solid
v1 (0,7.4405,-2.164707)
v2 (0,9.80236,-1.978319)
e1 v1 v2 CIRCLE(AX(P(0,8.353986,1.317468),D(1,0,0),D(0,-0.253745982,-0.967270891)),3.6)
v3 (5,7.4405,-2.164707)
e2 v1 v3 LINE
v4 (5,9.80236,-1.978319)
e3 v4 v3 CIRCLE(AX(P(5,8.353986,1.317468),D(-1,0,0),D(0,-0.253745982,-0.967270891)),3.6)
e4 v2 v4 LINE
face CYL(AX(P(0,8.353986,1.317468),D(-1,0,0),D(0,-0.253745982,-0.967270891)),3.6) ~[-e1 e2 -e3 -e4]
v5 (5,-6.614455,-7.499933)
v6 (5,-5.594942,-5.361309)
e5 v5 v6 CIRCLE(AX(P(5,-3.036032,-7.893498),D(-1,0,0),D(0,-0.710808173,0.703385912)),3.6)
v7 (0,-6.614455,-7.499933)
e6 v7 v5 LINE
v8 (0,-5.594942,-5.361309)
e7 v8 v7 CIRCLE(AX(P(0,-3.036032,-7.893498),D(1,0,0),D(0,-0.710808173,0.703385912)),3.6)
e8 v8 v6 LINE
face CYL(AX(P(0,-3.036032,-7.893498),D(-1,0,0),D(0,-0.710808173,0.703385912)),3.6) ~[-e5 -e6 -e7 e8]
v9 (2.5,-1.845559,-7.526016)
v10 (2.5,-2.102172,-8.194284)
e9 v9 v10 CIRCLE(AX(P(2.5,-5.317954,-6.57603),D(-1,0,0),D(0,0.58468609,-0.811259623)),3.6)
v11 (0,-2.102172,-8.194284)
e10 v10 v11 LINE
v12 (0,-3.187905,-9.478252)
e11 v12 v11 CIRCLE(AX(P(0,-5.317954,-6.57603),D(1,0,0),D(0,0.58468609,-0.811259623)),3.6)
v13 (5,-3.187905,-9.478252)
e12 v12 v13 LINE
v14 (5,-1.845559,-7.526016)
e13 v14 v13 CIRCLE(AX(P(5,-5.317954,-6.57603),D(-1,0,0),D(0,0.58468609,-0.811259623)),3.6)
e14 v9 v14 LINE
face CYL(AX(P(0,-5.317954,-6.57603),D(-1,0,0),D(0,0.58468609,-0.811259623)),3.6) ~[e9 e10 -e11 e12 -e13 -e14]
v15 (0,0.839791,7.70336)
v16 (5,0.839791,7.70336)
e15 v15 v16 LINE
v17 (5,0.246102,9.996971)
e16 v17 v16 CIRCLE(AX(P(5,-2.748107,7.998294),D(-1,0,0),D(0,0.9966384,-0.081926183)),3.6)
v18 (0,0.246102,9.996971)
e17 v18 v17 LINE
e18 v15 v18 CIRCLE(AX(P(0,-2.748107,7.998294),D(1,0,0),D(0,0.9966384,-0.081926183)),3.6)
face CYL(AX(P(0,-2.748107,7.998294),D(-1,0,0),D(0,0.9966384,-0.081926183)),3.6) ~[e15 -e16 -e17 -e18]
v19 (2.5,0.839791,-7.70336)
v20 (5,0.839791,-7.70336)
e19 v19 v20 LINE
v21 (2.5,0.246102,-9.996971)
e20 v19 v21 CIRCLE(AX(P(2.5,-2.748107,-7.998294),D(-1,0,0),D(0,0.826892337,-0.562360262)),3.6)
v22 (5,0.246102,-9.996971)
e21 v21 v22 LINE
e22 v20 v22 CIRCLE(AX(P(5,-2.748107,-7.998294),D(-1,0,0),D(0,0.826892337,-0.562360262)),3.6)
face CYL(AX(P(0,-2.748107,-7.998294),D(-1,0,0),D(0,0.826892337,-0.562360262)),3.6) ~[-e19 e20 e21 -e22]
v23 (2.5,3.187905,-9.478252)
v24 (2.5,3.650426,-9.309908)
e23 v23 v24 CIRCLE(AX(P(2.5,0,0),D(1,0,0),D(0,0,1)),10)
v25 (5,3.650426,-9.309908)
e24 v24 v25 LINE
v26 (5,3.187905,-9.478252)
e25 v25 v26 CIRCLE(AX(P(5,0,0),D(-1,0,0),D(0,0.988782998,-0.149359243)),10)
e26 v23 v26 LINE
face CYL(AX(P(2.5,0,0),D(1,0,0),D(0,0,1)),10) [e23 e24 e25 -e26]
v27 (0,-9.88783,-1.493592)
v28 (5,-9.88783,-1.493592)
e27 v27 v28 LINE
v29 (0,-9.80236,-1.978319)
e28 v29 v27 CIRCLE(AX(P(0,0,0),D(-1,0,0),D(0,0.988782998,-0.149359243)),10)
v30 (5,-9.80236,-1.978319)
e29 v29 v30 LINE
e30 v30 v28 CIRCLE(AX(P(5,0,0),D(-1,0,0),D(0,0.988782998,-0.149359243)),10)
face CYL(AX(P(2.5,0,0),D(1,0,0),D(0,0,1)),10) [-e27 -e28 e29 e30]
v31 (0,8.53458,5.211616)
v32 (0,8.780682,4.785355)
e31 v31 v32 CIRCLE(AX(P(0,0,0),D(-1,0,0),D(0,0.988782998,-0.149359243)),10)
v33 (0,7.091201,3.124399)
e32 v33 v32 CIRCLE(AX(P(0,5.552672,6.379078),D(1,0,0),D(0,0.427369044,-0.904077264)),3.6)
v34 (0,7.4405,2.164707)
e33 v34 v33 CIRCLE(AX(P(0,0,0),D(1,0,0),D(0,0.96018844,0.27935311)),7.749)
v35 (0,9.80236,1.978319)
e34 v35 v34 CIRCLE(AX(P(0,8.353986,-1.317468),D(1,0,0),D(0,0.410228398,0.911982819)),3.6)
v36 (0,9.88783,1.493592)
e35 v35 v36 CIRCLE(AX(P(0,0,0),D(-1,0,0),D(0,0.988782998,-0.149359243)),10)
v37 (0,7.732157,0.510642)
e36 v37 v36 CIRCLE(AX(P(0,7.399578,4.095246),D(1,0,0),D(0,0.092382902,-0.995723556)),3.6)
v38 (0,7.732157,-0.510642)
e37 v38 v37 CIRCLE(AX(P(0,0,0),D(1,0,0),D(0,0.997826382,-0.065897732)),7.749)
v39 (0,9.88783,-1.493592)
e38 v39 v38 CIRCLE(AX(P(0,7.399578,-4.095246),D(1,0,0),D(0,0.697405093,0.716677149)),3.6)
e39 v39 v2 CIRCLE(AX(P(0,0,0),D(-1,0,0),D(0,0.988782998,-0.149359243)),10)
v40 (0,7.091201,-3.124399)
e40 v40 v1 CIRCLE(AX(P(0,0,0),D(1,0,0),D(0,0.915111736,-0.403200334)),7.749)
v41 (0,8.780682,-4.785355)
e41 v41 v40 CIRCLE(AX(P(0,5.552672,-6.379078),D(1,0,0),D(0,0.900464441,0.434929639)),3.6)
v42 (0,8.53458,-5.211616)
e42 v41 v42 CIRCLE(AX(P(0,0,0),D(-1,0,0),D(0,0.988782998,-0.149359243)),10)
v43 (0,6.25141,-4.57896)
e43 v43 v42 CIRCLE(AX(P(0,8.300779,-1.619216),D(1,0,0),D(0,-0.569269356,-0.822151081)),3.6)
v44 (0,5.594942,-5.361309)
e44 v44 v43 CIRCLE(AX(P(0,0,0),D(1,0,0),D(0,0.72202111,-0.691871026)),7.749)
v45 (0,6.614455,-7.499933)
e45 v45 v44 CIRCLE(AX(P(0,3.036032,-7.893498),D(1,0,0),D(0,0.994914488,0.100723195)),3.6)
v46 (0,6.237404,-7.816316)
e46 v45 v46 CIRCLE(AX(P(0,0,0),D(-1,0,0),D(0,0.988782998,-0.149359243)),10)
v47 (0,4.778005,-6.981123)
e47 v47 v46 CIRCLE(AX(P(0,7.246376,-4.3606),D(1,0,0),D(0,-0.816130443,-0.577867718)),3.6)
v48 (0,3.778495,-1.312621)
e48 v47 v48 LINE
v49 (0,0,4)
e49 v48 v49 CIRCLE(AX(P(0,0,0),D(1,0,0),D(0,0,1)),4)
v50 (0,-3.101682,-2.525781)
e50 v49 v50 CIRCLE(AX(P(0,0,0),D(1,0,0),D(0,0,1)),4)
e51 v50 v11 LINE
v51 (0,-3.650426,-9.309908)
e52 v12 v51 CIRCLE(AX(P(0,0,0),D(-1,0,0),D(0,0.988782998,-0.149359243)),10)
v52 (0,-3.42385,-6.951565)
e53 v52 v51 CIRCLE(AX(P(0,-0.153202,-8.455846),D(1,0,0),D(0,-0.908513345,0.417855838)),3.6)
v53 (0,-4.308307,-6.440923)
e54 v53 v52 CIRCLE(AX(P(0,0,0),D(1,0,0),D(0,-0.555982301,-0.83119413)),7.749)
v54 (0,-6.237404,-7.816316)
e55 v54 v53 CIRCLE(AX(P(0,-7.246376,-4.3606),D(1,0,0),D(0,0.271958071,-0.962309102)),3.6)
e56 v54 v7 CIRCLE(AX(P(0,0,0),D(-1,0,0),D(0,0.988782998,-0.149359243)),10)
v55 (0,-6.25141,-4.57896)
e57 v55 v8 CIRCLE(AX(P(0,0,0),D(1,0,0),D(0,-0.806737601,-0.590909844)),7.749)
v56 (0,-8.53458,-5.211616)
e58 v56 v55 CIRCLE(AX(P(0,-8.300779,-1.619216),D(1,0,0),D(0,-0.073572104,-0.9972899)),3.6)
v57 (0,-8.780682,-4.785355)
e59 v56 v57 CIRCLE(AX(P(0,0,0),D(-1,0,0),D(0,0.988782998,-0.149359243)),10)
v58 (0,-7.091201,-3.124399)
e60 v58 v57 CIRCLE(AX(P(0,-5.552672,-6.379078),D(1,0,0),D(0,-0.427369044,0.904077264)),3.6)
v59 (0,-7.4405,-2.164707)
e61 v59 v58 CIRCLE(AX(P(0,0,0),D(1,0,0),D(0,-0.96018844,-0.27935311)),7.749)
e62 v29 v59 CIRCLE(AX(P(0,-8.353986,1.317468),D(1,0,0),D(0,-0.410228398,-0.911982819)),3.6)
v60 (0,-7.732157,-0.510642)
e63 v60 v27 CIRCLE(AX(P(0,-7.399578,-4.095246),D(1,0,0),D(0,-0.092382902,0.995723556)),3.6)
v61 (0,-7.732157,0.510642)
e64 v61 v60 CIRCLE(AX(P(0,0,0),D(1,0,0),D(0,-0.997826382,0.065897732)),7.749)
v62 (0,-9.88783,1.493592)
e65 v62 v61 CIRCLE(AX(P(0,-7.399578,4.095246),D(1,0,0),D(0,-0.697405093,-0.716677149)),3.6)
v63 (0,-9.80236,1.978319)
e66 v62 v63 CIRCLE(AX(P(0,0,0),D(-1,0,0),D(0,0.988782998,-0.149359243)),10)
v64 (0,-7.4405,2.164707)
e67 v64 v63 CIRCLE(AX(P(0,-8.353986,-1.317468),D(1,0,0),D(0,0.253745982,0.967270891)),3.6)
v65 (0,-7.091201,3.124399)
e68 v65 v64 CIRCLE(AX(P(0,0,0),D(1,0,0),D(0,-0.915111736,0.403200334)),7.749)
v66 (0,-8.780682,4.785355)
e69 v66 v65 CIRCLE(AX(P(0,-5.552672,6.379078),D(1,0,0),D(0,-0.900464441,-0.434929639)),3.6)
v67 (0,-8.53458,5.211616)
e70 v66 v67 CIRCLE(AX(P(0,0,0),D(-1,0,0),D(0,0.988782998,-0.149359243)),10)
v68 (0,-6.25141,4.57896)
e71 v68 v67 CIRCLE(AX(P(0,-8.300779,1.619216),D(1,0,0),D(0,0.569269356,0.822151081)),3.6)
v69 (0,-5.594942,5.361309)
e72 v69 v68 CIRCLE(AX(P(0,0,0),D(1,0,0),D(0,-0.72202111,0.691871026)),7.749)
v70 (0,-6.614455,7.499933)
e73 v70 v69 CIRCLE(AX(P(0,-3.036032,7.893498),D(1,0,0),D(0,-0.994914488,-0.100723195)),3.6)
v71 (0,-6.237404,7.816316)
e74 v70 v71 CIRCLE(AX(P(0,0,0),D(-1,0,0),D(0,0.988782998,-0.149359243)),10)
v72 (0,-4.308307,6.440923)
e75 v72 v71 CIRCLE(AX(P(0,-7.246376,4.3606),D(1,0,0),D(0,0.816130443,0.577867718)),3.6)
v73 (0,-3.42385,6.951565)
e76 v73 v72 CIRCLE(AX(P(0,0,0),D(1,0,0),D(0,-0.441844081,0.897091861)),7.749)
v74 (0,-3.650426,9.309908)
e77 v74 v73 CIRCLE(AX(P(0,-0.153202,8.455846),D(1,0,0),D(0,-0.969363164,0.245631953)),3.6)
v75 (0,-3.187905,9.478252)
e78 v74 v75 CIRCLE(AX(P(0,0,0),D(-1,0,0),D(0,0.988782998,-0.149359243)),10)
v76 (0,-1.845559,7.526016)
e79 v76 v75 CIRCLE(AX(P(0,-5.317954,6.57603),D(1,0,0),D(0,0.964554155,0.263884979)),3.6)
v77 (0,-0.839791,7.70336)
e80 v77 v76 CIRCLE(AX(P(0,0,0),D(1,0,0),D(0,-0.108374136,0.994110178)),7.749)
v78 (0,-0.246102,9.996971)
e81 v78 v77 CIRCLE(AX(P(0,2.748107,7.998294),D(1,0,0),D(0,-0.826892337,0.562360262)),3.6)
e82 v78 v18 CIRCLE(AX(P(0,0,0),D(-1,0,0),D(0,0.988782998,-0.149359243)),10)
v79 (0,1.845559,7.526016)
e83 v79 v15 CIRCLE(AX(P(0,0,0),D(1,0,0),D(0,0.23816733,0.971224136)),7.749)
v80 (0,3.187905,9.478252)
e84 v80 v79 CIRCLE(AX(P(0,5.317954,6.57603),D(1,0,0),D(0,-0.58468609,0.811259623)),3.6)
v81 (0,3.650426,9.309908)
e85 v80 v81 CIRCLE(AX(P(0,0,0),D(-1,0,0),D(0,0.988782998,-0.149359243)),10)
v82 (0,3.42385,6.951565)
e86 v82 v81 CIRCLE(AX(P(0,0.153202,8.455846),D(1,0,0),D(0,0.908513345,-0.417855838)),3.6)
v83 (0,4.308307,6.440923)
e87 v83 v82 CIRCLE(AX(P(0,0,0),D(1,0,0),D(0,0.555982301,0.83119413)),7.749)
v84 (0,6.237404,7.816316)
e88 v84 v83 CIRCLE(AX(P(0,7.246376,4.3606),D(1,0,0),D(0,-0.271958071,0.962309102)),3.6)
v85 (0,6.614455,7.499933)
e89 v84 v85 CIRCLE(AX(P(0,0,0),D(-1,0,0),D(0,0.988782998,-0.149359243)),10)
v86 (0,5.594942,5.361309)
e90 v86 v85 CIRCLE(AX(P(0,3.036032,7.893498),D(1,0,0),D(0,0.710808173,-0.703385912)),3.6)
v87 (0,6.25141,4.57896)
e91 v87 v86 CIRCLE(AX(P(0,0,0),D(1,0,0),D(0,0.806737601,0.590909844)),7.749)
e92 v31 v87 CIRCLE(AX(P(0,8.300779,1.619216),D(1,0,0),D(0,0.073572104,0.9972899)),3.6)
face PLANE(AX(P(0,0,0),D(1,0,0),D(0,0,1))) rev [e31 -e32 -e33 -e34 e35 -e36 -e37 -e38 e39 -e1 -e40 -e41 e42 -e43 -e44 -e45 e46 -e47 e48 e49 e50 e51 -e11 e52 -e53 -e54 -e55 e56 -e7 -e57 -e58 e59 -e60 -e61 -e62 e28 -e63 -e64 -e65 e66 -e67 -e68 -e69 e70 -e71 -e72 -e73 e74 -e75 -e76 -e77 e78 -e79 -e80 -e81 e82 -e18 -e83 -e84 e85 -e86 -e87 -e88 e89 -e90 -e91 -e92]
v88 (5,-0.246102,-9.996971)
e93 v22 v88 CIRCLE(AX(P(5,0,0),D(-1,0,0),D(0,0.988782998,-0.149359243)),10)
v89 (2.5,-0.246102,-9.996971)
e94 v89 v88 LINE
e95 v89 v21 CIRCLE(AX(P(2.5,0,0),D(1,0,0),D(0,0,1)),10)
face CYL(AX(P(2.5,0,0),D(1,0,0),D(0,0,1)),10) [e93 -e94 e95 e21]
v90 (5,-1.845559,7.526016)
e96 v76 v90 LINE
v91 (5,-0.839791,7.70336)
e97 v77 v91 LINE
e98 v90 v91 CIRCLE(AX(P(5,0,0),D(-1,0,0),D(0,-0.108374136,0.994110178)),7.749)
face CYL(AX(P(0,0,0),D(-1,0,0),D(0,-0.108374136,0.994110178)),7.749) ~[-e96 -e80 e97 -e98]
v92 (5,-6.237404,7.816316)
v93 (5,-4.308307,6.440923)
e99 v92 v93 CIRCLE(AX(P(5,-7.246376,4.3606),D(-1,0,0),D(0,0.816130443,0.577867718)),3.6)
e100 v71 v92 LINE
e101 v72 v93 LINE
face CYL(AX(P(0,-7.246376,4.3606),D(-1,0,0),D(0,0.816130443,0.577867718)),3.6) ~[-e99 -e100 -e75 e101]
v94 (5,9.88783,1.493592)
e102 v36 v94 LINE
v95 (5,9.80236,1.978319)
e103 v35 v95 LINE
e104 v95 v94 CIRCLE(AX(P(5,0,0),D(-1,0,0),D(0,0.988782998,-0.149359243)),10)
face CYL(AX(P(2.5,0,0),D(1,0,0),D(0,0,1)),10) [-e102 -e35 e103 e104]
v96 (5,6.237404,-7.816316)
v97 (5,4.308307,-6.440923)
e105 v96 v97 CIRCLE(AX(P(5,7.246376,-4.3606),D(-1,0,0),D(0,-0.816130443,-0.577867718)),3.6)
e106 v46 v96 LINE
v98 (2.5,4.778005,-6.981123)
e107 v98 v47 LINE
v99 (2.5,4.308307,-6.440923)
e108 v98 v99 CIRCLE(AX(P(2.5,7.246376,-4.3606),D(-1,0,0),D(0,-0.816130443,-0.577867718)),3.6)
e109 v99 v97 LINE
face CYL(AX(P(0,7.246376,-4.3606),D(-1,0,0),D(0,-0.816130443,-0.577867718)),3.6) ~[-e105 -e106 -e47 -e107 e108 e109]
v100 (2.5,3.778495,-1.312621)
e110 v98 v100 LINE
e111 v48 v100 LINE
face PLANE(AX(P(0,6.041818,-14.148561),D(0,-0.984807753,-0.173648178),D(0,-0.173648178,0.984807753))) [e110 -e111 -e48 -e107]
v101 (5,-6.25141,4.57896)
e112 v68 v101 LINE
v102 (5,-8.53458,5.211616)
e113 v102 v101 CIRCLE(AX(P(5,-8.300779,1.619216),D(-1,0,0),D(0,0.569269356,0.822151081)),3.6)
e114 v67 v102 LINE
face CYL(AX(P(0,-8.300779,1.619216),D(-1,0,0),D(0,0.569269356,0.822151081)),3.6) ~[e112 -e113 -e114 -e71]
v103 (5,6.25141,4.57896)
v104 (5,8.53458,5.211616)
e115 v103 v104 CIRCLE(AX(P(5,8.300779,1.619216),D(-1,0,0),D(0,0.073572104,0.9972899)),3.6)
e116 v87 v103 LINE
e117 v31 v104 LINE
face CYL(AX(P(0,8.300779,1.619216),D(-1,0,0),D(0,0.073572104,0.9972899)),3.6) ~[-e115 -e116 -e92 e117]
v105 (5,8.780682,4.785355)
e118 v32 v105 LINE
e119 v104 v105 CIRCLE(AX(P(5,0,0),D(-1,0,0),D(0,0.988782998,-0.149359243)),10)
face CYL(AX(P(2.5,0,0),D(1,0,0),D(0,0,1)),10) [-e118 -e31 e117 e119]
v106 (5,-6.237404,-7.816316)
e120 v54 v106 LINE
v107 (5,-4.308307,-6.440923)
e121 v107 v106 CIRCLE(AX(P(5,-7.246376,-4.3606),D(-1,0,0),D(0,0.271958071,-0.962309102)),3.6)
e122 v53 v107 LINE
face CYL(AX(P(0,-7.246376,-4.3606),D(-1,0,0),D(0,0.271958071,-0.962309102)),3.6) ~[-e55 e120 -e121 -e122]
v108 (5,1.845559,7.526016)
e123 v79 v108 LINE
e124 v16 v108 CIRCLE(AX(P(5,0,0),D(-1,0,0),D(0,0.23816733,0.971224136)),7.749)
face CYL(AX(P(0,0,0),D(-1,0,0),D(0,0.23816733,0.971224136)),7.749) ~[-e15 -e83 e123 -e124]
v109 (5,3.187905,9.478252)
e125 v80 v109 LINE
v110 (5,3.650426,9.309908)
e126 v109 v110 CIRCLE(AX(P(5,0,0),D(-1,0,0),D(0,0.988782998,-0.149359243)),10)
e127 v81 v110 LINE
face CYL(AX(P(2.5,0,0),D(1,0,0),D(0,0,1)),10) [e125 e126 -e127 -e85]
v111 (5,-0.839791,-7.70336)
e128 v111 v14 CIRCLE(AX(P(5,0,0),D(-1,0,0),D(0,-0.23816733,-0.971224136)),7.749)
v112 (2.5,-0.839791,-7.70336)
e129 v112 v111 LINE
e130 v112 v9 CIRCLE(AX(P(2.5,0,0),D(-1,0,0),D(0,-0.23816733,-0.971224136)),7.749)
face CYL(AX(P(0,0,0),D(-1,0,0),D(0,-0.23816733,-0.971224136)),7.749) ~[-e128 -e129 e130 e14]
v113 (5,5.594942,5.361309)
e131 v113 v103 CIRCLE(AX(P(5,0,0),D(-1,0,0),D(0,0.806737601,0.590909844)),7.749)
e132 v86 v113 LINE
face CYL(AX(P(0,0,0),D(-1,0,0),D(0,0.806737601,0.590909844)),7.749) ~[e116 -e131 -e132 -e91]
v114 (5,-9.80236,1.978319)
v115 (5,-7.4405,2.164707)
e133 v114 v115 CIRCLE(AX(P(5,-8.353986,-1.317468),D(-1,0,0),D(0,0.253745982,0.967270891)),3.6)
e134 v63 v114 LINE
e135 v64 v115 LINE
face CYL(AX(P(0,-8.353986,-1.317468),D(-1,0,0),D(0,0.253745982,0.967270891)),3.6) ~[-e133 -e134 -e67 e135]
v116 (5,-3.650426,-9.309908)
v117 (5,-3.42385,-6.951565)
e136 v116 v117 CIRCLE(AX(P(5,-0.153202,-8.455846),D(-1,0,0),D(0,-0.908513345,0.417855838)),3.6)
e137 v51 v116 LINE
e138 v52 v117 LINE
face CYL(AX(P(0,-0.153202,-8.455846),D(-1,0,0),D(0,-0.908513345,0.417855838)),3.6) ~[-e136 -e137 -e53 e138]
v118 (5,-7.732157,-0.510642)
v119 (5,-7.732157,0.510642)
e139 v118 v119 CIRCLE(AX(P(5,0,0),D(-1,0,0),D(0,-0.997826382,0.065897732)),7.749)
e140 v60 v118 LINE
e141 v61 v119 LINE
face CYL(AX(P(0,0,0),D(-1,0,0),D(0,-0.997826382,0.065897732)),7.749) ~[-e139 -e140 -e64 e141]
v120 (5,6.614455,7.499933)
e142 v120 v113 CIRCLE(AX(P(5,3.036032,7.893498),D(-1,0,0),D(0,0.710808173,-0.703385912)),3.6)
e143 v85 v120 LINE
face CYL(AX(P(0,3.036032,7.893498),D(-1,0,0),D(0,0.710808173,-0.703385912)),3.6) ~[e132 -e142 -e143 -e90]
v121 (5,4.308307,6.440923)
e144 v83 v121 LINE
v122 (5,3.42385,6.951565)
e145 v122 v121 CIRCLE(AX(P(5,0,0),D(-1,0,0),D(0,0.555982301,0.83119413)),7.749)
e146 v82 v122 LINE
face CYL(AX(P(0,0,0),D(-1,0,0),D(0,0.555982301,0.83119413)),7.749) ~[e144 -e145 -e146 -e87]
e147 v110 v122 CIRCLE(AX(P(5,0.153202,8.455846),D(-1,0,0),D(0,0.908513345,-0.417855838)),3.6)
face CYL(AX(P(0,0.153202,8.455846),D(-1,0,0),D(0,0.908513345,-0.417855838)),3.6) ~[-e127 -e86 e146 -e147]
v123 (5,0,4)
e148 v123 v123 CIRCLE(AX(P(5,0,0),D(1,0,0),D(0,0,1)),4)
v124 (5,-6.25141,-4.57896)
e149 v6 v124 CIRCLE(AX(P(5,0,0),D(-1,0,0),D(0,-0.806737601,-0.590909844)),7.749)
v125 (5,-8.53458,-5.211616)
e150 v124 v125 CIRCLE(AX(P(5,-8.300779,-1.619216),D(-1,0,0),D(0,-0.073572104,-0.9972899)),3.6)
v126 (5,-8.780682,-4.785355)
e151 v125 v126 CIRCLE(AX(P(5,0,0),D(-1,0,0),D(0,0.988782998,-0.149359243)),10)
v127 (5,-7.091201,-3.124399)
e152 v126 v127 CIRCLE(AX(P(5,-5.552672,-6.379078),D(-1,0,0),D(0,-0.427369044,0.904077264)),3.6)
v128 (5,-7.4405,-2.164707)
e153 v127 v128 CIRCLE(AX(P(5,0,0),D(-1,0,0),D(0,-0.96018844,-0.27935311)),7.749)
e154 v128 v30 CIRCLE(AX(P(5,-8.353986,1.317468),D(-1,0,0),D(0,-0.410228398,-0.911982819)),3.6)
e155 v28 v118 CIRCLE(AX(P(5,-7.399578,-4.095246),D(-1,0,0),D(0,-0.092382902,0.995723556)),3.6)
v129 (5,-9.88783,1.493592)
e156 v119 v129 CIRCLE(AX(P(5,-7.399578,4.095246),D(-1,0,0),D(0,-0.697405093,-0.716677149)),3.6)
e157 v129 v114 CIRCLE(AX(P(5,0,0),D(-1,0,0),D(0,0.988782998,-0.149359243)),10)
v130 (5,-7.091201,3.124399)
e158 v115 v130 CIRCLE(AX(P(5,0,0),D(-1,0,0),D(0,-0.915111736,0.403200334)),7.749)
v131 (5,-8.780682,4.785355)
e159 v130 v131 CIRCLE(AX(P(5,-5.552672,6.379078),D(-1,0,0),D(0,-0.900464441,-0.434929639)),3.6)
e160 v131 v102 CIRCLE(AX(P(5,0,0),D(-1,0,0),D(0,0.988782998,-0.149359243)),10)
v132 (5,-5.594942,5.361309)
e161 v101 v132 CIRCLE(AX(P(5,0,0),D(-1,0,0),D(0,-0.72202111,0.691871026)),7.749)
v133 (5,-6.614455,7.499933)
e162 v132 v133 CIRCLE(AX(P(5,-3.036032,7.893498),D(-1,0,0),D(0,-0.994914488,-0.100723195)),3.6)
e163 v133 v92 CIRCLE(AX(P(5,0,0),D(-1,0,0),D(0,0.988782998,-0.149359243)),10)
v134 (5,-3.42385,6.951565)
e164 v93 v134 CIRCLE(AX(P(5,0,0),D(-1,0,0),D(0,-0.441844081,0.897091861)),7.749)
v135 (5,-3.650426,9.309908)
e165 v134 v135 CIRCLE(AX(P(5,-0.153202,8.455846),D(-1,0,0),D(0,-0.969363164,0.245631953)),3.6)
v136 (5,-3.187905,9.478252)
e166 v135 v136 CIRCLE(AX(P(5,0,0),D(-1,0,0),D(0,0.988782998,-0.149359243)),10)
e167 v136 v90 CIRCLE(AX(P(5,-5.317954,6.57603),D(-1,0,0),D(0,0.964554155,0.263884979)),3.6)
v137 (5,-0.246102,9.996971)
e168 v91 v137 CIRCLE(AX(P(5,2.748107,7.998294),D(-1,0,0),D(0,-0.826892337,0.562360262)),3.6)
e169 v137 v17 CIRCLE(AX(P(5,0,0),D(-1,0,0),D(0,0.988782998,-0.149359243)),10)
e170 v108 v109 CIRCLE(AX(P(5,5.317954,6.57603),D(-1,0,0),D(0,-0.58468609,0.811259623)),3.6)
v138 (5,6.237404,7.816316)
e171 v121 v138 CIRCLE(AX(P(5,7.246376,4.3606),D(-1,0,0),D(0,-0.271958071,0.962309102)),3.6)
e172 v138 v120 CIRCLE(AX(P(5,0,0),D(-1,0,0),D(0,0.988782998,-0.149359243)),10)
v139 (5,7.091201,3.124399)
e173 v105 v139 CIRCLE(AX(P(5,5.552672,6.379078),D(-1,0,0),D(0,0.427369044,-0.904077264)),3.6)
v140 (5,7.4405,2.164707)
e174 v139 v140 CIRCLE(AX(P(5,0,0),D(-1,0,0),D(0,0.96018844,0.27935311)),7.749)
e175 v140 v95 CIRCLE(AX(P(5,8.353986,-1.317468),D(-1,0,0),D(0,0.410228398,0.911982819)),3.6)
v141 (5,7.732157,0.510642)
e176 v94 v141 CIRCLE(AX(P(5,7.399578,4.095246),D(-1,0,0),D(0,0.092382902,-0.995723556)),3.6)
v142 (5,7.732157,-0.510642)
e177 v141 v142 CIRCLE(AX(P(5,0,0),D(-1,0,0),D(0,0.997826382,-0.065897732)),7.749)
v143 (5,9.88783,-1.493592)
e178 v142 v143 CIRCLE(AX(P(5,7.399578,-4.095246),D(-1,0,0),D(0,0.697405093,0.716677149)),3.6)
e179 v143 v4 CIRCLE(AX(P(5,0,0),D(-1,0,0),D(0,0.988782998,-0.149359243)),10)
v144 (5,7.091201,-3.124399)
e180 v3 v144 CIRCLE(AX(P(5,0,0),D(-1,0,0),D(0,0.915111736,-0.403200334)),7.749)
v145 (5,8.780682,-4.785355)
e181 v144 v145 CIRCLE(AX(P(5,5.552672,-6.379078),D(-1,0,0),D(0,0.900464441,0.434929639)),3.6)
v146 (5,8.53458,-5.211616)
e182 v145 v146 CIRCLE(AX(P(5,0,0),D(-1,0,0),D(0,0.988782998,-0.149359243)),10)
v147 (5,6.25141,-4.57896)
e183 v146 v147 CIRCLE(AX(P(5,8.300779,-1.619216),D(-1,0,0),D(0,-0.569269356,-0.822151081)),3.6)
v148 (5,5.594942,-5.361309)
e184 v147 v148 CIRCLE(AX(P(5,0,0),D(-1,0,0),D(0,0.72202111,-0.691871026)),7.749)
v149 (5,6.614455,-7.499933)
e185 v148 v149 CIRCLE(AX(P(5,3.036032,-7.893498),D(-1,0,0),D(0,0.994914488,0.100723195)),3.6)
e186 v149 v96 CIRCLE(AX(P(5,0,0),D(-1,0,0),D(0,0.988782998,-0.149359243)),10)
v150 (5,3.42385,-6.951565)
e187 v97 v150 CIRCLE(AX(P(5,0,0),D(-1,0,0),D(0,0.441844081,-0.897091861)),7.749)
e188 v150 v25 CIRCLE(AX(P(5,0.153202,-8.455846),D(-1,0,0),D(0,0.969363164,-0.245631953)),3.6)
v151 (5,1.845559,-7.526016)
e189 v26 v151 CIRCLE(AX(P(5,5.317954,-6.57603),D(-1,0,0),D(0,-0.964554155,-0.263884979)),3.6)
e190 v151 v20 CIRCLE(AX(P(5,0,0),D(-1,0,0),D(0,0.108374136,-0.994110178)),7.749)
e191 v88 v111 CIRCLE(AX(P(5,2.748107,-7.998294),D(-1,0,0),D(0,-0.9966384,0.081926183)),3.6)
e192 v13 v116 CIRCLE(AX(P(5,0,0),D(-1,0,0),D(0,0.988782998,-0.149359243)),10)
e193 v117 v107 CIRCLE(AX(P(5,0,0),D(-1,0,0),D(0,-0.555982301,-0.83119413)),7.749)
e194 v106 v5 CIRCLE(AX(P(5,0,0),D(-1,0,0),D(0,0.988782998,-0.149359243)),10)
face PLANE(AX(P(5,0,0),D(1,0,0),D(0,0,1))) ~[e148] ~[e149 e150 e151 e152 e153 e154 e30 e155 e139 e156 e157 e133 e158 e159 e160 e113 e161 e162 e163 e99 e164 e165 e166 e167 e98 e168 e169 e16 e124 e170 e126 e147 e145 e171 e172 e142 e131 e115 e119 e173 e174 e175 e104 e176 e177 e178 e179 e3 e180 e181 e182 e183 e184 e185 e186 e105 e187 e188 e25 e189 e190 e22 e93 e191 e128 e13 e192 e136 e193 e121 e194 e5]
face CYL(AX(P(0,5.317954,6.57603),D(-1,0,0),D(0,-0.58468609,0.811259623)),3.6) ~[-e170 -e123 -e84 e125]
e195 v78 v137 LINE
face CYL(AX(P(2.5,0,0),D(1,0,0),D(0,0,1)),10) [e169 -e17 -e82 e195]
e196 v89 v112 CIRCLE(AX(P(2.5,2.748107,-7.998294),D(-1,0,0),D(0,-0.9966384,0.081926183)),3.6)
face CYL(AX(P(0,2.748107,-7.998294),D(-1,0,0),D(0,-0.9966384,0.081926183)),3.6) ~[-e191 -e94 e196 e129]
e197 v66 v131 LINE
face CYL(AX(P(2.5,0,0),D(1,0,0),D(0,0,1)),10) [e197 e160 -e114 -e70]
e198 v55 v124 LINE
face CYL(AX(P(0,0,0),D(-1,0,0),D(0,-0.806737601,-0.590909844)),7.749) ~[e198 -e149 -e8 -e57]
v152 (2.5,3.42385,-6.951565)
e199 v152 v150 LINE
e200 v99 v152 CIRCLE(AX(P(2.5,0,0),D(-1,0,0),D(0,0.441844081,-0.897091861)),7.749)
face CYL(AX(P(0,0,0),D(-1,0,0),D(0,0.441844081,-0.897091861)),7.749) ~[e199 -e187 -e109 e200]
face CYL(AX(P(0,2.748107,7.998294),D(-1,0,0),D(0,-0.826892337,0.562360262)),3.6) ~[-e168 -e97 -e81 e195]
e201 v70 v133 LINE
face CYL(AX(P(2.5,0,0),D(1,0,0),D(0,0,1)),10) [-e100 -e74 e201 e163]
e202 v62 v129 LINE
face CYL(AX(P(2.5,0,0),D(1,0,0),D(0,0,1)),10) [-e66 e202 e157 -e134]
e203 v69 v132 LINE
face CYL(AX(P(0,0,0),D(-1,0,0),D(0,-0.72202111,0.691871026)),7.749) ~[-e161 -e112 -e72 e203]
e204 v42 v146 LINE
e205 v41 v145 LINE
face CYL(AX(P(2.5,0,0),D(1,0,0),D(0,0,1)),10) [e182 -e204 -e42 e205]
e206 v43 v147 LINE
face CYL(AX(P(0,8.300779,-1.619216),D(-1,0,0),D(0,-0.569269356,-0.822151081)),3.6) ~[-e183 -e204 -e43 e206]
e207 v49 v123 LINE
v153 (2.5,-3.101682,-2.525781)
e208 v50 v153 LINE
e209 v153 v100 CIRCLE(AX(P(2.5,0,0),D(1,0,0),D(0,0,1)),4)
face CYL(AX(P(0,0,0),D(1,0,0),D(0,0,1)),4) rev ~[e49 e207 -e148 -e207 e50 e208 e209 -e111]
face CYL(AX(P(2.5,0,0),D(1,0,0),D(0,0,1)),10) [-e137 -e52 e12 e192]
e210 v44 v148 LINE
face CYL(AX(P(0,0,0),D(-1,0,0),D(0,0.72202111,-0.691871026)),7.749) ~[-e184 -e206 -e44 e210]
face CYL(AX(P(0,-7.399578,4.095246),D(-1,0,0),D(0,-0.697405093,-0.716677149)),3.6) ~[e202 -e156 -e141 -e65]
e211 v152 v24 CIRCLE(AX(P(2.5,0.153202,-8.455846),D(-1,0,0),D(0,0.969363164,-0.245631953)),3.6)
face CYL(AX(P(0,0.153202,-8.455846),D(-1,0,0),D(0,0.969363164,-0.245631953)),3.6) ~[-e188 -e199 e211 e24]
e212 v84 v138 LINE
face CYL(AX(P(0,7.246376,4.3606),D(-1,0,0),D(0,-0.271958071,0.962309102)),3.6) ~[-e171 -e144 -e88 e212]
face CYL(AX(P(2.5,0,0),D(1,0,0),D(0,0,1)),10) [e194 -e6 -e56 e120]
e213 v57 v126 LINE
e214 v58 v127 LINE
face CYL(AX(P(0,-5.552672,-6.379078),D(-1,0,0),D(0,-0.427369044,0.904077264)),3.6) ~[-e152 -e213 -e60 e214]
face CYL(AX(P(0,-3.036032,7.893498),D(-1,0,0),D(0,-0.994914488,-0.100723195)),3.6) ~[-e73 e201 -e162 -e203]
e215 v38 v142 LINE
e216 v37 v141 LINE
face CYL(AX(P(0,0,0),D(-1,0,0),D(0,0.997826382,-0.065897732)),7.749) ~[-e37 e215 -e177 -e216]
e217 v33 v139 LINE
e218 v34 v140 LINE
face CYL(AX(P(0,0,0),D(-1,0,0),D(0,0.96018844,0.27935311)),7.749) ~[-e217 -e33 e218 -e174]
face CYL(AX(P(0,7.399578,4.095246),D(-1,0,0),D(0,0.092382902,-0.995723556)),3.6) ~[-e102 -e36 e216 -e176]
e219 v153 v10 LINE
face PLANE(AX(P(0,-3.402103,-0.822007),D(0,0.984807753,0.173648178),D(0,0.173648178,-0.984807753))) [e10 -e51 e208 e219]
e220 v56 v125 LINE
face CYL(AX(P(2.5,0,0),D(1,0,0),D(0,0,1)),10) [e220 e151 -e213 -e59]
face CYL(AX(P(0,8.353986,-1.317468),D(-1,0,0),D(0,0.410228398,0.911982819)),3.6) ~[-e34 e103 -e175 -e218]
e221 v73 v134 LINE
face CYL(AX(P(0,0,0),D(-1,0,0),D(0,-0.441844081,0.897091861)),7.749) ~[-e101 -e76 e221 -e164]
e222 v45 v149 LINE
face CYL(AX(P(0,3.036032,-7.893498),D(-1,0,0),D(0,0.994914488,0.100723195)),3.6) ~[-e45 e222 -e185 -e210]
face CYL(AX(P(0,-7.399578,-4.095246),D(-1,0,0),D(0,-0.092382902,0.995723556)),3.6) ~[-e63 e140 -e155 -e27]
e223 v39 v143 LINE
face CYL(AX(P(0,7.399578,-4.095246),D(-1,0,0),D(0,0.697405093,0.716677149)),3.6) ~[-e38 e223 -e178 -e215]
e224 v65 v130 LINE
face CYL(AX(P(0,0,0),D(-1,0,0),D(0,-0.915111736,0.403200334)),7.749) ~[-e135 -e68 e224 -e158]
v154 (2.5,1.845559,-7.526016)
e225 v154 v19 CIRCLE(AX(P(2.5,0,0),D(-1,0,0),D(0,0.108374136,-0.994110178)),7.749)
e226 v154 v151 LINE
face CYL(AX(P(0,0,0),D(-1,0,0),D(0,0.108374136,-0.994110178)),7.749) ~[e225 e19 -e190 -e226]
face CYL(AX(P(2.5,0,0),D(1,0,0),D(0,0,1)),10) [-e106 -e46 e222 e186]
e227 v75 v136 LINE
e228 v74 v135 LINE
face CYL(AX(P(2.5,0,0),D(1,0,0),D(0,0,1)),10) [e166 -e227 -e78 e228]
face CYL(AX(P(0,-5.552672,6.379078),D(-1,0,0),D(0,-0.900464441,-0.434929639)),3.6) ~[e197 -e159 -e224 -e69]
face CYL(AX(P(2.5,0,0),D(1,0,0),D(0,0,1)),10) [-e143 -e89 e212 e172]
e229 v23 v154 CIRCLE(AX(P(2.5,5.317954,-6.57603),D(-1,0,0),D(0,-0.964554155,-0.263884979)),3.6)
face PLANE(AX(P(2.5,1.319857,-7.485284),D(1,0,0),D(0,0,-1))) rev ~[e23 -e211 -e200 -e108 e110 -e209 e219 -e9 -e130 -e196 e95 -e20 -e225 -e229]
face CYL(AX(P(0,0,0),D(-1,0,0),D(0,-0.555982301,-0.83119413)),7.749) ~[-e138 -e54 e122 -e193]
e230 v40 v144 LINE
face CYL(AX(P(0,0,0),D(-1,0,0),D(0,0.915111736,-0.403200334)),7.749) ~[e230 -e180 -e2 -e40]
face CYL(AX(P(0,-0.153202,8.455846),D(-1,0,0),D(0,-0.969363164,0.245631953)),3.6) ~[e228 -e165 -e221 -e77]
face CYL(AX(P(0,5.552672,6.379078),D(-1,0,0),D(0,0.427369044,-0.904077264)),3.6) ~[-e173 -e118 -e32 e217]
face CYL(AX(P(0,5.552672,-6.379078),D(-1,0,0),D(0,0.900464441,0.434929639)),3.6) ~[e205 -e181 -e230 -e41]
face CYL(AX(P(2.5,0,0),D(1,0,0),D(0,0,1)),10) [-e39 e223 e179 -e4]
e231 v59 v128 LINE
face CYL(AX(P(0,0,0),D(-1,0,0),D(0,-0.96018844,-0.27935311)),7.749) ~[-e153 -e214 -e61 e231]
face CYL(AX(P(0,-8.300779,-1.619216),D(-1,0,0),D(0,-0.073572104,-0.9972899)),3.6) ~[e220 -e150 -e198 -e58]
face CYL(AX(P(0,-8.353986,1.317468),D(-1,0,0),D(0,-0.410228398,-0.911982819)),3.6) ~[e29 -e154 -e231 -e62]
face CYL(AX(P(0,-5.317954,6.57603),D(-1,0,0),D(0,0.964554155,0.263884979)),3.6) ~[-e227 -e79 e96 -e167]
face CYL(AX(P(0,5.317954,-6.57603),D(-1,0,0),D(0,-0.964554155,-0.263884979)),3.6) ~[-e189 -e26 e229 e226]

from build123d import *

# Parameters (mm, degrees)
BASPROSKE_W         = 5
BASPROSKE_H         = 10
TOOTHCUT_DEPTH      = 16
TEETHCUTS_COUNT     = 18
TEETHCUTS_ANGLE     = 340
BORSKE_R            = 4
BORE_DEPTH          = 50.0000508
CUT_EXTRUDE_1_DEPTH = 2.5


with BuildPart() as part:
    # BasProSke → Base-Revolve (revolve)
    with BuildSketch(Plane(origin=(0, 0, 0), x_dir=(1, 0, 0), z_dir=(0, 1, 0)), mode=Mode.PRIVATE) as base_revolve_sk:
        with Locations((2.5, 5)):
            Rectangle(BASPROSKE_W, BASPROSKE_H)
    revolve(base_revolve_sk.sketch.rotate(Axis((-10, 0, 0), (1, 0, 0)), 180), axis=Axis((-10, 0, 0), (1, 0, 0)))

    # TooCutSke → ToothCut (cut, through all)
    with BuildSketch(Plane(origin=(0, 0, 0), x_dir=(0, 0, -1), z_dir=(1, 0, 0))):
        with BuildLine():
            ThreePointArc((0.510641536, 7.732156635), (0, 7.749), (-0.510641536, 7.732156635))
            ThreePointArc((-0.510641536, 7.732156635), (-0.82619259, 8.907320741), (-1.515208602, 9.910236529))
            ThreePointArc((-1.515208602, 9.910236529), (0, 10.0254), (1.515208602, 9.910236529))
            ThreePointArc((1.515208602, 9.910236529), (0.82619259, 8.907320741), (0.510641536, 7.732156635))
        make_face()
    toothcut = extrude(amount=TOOTHCUT_DEPTH, mode=Mode.SUBTRACT)

    # TeethCuts: ToothCut ×18 about axis
    teethcuts_axis = Axis((-10, 0, 0), (1, 0, 0))
    for i in range(1, TEETHCUTS_COUNT):
        add(toothcut.rotate(teethcuts_axis, i * TEETHCUTS_ANGLE / (TEETHCUTS_COUNT - 1)), mode=Mode.SUBTRACT)

    # BorSke → Bore (cut, symmetric)
    with BuildSketch(Plane(origin=(0, 0, 0), x_dir=(0, 0, -1), z_dir=(1, 0, 0))):
        with Locations(Location((0, 0, 0), (0, 0, 180))):
            Circle(BORSKE_R)
    extrude(amount=BORE_DEPTH, both=True, mode=Mode.SUBTRACT)

    # 草图2 → 切除-拉伸1 (cut)
    with BuildSketch(Plane.ZY):
        Polygon((0.391153716, 3.478074003), (-0.822007108, -3.402102925), (-15.361721341, -0.838359014), (-14.148560516, 6.041817914), align=None)
    extrude(amount=-CUT_EXTRUDE_1_DEPTH, mode=Mode.SUBTRACT)


solid = part.part
